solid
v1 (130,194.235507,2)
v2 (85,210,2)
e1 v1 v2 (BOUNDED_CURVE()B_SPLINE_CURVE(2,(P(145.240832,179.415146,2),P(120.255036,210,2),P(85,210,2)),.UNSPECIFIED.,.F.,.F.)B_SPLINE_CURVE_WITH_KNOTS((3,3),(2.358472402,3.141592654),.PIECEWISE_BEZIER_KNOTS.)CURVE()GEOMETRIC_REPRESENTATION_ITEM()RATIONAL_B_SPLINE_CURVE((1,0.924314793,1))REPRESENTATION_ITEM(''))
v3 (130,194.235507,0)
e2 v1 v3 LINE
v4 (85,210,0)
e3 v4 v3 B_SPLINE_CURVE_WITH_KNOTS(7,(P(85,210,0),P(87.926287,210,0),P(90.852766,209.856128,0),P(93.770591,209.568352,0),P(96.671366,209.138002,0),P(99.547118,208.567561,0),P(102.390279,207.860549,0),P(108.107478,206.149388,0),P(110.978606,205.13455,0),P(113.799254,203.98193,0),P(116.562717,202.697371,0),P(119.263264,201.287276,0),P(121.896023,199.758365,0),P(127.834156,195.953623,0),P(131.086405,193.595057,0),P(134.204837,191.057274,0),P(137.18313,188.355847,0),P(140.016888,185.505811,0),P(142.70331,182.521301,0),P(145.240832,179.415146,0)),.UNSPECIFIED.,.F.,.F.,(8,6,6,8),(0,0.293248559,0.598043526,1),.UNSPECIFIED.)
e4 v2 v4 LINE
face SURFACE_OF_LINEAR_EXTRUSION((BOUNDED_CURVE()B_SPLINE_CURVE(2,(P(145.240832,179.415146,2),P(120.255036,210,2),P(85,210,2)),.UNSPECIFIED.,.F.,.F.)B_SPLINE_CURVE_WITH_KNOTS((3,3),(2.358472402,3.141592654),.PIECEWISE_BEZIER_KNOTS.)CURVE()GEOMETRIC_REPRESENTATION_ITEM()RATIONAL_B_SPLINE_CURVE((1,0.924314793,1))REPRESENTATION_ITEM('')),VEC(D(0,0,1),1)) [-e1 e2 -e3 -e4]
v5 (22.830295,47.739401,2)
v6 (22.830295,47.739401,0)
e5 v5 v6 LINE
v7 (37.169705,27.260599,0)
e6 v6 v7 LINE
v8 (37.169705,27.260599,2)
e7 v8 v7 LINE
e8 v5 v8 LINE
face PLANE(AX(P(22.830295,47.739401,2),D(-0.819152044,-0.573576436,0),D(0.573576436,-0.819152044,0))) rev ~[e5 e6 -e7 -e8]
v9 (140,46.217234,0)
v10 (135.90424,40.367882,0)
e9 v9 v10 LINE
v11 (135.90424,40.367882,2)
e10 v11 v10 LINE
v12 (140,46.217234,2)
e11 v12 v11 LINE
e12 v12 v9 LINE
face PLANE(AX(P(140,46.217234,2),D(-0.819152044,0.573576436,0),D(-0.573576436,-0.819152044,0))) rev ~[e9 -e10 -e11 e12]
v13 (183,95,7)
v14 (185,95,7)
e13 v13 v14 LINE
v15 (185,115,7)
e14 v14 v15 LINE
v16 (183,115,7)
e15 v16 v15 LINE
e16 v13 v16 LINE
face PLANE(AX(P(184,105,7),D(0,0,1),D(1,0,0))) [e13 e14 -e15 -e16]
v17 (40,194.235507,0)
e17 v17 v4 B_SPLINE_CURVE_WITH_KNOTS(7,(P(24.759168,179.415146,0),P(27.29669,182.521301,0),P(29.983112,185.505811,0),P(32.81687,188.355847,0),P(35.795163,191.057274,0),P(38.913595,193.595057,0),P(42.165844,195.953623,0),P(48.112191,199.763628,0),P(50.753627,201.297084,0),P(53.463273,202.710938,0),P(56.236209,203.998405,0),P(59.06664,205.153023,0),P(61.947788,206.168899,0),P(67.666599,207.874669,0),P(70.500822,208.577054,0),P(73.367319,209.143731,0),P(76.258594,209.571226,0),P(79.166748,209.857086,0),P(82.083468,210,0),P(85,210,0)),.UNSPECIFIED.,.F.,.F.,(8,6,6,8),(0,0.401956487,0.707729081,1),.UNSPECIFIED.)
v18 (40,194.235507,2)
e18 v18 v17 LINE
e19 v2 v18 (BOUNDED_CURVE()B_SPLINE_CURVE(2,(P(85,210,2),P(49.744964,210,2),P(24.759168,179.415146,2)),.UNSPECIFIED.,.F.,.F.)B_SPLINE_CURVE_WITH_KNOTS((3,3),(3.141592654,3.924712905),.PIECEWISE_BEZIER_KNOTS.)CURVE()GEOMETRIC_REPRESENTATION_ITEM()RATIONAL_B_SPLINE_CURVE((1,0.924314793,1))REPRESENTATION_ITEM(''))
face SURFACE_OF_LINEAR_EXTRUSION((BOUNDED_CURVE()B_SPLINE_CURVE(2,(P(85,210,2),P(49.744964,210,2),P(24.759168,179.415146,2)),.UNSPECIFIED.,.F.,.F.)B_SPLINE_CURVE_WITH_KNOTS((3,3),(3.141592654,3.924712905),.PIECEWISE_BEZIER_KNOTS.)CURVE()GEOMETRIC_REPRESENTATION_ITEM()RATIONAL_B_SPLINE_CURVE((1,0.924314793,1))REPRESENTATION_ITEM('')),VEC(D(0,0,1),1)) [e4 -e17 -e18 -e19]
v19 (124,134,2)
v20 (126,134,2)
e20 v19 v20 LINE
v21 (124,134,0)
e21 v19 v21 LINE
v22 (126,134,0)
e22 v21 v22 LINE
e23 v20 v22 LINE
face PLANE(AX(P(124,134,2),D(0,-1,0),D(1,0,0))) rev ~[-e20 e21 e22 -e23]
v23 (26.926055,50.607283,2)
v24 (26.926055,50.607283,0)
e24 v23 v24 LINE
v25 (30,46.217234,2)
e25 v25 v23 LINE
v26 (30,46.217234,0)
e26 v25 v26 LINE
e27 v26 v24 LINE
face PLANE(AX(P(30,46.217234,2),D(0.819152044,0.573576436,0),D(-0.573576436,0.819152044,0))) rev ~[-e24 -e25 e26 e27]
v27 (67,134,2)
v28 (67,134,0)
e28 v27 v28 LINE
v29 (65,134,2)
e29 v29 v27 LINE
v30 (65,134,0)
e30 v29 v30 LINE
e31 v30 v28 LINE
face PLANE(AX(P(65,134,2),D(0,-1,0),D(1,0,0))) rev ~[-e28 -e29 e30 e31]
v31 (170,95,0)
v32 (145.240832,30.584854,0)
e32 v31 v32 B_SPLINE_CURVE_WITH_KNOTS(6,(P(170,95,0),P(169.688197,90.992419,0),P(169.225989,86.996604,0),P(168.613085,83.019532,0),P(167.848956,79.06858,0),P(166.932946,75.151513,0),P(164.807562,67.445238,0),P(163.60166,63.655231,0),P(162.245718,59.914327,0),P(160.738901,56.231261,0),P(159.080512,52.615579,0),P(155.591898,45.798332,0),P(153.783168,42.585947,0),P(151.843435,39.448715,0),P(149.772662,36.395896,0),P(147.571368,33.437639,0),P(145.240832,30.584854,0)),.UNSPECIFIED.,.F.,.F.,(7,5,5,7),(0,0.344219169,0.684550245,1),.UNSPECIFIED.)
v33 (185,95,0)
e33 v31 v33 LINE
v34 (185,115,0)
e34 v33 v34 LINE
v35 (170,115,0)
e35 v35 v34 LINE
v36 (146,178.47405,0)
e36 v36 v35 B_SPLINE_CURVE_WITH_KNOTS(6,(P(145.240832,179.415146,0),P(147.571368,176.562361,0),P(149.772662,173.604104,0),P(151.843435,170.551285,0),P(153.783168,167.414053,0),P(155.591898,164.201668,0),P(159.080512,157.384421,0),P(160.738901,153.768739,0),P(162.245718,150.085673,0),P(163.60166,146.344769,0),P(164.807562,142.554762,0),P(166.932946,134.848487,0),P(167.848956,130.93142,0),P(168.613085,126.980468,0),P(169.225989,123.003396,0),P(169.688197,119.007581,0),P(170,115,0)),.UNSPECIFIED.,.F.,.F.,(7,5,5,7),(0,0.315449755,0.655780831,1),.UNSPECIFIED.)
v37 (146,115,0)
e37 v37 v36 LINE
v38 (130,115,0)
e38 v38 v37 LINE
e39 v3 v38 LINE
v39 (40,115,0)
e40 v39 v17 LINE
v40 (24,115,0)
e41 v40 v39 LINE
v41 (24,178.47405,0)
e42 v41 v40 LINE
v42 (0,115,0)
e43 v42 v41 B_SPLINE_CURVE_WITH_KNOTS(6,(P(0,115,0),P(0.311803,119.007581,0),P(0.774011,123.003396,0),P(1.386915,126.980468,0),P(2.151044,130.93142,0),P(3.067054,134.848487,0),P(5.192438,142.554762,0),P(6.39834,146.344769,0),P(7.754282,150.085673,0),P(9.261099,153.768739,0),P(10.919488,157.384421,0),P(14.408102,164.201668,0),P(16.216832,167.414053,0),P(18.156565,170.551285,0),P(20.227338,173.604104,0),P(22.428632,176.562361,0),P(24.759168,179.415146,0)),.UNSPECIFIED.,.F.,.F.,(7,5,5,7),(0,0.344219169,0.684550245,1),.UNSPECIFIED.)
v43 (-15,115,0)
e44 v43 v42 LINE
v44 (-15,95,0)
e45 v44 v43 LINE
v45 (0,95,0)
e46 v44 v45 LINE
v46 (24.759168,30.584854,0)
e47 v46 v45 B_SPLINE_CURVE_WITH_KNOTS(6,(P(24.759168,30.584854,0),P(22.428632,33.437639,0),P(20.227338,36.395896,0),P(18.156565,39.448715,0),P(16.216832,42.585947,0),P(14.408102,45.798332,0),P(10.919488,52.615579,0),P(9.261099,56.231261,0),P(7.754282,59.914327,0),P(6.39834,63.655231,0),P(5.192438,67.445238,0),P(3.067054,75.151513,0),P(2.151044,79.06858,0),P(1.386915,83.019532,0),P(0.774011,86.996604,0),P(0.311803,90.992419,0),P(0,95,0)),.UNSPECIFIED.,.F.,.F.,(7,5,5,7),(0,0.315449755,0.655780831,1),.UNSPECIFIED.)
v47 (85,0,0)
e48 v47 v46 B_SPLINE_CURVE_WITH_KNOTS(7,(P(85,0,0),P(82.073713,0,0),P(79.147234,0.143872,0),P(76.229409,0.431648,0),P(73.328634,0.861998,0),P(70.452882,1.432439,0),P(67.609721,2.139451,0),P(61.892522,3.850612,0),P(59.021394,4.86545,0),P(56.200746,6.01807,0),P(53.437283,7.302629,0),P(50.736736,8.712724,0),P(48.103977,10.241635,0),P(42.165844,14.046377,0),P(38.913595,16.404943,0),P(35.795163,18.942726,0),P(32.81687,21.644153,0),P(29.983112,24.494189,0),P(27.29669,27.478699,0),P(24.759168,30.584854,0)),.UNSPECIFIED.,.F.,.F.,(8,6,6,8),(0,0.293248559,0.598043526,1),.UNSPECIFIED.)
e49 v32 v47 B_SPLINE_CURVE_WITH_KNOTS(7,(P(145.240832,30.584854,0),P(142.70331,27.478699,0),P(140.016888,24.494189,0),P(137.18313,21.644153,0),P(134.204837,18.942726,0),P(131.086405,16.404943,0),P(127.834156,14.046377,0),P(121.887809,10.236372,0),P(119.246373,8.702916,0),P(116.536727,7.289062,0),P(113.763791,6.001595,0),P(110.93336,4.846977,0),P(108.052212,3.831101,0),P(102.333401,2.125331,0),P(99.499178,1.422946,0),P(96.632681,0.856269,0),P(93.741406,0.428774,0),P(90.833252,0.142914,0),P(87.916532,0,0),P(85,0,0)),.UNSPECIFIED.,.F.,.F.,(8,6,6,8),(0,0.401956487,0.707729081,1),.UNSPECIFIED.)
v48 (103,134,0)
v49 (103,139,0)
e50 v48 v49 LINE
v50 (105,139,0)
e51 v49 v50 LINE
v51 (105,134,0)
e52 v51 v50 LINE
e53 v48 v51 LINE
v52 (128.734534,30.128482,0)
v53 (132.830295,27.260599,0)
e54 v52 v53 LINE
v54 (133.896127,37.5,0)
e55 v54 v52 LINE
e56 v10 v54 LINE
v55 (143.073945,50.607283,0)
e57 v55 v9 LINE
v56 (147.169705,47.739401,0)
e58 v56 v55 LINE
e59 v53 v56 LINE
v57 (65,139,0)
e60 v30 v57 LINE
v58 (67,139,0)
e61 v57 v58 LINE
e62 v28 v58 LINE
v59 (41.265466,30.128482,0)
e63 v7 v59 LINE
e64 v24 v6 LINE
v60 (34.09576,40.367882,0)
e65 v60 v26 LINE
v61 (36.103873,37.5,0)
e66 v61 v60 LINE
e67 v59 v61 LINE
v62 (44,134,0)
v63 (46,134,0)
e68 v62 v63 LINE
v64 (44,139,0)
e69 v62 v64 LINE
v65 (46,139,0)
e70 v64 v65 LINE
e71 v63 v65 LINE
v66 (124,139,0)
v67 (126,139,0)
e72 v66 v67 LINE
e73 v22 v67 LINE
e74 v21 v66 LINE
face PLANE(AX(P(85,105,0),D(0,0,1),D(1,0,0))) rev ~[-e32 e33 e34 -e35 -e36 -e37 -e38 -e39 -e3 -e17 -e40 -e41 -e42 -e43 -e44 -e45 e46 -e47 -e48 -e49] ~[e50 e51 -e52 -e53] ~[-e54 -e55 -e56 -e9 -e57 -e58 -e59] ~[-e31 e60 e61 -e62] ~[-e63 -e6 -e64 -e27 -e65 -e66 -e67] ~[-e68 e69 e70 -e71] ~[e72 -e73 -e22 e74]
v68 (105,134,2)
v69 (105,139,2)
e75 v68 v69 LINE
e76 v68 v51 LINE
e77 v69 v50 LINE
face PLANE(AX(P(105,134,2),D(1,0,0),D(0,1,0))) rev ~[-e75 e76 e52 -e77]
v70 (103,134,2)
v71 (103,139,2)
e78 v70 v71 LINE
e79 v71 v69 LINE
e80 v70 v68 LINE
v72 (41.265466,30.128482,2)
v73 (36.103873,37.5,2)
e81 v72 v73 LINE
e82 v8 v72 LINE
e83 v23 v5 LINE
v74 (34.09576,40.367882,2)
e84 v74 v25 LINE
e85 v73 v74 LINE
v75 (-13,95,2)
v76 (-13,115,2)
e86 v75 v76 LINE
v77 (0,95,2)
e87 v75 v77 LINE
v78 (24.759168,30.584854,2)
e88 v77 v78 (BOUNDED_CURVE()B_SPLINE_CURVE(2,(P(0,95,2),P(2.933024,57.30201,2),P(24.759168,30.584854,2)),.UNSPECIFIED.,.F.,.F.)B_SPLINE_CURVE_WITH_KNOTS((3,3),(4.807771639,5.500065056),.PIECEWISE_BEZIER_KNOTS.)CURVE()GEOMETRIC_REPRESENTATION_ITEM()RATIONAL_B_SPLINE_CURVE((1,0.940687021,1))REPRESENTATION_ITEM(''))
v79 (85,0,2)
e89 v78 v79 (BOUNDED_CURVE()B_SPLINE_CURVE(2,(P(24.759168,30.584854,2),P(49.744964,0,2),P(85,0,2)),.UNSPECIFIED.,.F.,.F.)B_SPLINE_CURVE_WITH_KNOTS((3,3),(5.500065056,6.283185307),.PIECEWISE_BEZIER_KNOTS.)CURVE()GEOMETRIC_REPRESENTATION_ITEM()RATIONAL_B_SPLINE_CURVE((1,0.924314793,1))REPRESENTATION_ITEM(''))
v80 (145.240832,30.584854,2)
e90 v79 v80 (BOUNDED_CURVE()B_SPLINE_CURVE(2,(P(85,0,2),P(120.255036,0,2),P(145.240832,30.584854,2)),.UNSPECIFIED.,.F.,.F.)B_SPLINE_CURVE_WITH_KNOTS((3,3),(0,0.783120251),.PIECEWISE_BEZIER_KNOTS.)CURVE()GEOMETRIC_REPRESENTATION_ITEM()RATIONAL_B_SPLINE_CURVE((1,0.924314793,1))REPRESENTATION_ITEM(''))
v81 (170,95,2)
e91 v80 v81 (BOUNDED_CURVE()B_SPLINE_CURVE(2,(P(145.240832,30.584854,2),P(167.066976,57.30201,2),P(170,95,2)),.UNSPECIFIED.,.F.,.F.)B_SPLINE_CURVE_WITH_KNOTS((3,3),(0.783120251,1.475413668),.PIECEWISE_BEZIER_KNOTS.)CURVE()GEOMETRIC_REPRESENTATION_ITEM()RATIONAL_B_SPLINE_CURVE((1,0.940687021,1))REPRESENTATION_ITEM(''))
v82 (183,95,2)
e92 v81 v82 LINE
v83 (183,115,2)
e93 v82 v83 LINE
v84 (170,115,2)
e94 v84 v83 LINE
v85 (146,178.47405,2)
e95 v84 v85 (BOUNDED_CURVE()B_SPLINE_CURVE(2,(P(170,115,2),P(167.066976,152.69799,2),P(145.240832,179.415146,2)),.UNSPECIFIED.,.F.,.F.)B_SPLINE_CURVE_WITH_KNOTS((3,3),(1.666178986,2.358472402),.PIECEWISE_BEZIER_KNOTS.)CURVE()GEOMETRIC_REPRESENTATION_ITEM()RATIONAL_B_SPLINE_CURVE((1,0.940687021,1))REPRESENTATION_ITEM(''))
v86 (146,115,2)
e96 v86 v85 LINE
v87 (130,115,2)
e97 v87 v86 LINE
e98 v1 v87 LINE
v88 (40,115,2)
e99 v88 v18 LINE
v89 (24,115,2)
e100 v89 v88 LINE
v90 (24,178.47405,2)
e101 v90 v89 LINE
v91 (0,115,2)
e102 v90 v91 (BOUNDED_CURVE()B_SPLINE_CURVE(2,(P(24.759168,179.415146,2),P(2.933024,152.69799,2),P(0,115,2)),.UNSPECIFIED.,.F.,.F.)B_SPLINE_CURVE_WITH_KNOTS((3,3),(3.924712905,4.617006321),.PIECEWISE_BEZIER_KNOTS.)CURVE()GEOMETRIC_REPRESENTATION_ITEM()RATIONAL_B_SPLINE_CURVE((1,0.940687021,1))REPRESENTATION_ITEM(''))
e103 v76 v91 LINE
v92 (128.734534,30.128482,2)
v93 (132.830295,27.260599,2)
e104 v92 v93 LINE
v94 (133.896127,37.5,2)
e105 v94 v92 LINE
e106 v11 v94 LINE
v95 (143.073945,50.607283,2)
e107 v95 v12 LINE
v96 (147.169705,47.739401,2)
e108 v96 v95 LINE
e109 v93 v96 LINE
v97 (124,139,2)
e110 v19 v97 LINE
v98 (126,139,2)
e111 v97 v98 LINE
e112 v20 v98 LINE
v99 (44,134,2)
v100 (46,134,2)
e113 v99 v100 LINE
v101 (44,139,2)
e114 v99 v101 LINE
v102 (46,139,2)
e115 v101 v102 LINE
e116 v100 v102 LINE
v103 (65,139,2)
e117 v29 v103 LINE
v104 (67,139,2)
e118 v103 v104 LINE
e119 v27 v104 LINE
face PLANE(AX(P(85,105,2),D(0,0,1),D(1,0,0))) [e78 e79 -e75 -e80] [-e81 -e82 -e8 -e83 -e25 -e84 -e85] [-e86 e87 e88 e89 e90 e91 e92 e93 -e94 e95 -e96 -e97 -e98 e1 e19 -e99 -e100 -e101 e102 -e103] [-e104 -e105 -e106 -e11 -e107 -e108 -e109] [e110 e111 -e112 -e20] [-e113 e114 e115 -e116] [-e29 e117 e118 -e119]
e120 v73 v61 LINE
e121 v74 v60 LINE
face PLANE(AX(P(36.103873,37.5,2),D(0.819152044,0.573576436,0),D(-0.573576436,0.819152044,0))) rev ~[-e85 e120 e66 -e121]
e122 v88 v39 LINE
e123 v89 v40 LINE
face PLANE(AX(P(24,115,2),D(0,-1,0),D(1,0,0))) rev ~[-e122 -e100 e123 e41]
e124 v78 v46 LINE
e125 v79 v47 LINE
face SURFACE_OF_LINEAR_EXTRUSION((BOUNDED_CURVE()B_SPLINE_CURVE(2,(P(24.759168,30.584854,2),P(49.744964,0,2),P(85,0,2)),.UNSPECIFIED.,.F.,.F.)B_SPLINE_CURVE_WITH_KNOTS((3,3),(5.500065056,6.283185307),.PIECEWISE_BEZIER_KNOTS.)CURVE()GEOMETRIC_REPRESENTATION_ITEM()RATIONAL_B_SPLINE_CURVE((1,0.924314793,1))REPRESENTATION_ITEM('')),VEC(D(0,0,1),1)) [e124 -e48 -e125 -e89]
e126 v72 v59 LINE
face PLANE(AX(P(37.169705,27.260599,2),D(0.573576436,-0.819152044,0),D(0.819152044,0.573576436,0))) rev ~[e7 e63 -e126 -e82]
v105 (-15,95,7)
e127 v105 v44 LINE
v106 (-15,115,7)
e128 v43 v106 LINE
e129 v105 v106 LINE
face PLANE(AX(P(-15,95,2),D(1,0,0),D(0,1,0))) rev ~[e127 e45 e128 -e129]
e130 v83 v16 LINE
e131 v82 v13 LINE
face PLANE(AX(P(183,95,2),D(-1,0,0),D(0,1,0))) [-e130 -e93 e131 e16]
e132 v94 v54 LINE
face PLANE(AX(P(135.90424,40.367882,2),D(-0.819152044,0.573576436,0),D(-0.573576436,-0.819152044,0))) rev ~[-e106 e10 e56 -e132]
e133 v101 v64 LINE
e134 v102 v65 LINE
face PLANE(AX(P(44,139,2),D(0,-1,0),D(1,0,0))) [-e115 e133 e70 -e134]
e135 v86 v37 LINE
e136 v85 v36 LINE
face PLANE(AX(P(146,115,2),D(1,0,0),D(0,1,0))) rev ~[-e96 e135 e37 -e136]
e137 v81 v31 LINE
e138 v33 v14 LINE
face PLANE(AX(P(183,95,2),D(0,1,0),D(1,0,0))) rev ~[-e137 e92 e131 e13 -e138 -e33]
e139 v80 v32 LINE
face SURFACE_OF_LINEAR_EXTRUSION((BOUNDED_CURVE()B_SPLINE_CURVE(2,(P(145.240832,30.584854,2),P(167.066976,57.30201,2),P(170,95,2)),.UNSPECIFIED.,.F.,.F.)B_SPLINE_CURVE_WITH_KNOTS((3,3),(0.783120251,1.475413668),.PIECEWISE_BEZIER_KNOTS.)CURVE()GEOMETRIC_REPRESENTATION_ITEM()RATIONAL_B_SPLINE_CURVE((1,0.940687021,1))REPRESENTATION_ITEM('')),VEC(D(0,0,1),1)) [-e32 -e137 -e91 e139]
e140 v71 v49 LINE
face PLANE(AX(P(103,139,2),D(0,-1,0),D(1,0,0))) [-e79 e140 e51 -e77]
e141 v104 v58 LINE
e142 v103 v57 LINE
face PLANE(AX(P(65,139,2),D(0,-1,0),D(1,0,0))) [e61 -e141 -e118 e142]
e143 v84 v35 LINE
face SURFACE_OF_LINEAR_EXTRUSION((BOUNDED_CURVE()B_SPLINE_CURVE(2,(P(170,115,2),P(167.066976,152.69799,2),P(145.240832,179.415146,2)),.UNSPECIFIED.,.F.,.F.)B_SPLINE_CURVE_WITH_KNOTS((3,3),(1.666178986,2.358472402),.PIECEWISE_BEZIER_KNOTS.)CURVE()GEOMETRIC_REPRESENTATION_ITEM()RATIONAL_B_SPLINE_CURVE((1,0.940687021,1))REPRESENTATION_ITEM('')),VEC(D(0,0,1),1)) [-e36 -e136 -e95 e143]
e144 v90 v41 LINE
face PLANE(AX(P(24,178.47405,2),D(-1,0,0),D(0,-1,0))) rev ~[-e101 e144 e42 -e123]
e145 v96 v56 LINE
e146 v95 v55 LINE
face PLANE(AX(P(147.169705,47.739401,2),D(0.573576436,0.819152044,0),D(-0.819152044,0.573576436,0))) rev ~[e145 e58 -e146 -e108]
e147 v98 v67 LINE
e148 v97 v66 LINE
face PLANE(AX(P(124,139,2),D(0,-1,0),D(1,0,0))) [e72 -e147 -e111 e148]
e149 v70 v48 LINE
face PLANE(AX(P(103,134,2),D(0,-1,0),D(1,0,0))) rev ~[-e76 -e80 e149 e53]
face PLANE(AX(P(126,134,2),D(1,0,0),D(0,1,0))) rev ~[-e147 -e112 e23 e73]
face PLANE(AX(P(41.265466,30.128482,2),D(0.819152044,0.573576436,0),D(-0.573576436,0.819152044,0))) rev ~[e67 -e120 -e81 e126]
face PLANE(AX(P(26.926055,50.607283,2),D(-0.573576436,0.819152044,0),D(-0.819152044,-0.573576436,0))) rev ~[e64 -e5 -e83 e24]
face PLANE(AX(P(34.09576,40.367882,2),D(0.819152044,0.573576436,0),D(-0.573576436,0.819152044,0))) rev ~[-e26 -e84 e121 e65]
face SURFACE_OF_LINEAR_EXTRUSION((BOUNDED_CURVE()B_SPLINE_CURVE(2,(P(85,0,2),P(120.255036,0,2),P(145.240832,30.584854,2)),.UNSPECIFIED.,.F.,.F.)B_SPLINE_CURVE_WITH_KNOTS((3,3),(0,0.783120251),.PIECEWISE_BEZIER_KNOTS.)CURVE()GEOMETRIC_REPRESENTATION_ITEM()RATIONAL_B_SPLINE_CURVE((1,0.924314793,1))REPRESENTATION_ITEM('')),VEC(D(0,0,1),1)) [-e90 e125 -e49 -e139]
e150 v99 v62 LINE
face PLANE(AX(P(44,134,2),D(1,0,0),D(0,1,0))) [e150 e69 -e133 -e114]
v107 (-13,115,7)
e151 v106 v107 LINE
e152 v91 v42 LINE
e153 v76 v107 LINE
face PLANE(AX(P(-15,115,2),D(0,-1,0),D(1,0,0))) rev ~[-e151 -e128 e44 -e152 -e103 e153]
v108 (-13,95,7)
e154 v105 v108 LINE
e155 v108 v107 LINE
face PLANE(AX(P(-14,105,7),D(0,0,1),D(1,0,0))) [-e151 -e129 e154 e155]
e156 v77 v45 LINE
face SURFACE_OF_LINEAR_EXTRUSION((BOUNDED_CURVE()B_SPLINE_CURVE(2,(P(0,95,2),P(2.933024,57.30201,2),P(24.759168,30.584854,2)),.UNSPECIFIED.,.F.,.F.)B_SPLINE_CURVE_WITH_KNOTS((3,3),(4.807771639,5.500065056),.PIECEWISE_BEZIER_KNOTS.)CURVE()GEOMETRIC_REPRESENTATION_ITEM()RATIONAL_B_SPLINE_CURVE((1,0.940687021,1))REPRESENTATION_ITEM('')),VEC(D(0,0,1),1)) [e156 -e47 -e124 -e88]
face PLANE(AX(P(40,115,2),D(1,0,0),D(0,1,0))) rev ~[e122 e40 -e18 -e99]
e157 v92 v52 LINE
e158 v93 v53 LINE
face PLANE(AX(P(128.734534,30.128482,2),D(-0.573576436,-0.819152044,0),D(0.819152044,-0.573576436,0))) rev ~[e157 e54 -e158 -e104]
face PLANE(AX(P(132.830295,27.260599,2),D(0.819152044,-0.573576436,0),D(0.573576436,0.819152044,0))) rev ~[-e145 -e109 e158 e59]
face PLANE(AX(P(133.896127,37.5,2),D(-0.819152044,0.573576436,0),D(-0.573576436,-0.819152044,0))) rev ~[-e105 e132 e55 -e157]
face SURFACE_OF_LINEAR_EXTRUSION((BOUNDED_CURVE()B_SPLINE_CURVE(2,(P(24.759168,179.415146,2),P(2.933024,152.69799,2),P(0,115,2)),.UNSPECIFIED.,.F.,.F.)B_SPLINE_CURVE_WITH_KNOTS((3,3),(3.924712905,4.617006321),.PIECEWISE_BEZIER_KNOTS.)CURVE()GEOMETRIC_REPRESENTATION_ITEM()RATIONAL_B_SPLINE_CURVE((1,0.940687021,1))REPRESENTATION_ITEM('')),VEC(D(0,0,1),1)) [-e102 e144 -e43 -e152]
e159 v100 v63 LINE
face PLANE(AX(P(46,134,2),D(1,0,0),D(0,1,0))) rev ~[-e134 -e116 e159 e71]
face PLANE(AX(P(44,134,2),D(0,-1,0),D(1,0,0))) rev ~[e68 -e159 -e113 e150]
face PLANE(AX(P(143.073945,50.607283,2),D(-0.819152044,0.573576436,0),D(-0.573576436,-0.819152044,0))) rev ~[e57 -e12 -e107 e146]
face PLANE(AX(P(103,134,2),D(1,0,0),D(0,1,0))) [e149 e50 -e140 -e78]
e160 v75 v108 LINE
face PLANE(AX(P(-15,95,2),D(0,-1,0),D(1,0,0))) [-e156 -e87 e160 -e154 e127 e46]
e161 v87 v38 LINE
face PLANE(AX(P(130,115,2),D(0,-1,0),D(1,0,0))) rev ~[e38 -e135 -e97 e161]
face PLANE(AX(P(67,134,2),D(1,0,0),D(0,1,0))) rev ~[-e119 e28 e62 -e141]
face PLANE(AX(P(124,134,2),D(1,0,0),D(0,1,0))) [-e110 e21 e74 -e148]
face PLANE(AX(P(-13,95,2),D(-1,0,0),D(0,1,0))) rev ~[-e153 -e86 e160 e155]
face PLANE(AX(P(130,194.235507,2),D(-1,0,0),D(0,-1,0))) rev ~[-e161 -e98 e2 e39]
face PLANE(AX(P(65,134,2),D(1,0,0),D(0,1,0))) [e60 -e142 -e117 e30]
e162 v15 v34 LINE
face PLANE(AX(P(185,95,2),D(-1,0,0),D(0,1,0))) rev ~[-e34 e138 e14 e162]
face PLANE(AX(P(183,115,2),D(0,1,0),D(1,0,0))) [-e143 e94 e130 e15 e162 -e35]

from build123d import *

# Parameters (mm, degrees)
F0_W      = 170
F0_H      = 210
F1_DEPTH  = 2
F2_W      = 15
F2_H      = 20
F3_DEPTH  = 2
F4_W      = 2
F4_H      = 20
F5_DEPTH  = 5
F7_DEPTH  = 2.001
F9_DEPTH  = 2.0010001
F11_DEPTH = 2.0010001
F12_W     = 2
F12_H     = 5
F13_DEPTH = 2.0010001


with BuildPart() as f1:
    # F0 (on Top) → F1 (new body)
    with BuildSketch(Plane.XY):
        with Locations((85, 105)):
            Rectangle(F0_W, F0_H)
    extrude(amount=F1_DEPTH)

    # F2 (on face) → F3 (join)
    with BuildSketch(Plane.XY.offset(2)):
        with Locations((-7.5, 105)):
            Rectangle(F2_W, F2_H)
        with Locations((177.5, 105)):
            Rectangle(F2_W, F2_H)
    extrude(amount=-F3_DEPTH)

    # F4 (on face) → F5 (join)
    with BuildSketch(Plane.XY.offset(2)):
        with Locations((184, 105)):
            Rectangle(F4_W, F4_H)
        with Locations((-14, 105)):
            Rectangle(F4_W, F4_H)
    extrude(amount=F5_DEPTH)

    # F6 (on face) → F7 (cut, through all)
    with BuildSketch(Plane.XY.offset(2)):
        with BuildLine():
            add(Edge.make_bspline(
                [(24.7591678446, 179.4151456037), (2.9330243604, 152.697989574), (0, 115)],
                knots=[3.9247129048, 3.9247129048, 3.9247129048, 4.6170063214, 4.6170063214, 4.6170063214], degree=2, weights=[1, 0.940687021, 1]))
            Line((24.7591678446, 179.4151456037), (0, 210))
            Line((0, 210), (0, 115))
        make_face()
        with BuildLine():
            add(Edge.make_bspline(
                [(85, 210), (49.7449642279, 210), (24.7591678446, 179.4151456037)],
                knots=[3.1415926536, 3.1415926536, 3.1415926536, 3.9247129048, 3.9247129048, 3.9247129048], degree=2, weights=[1, 0.9243147928, 1]))
            Line((85, 210), (0, 210))
            Line((0, 210), (24.7591678446, 179.4151456037))
        make_face()
        with BuildLine():
            add(Edge.make_bspline(
                [(145.2408321554, 179.4151456037), (120.2550357721, 210), (85, 210)],
                knots=[2.3584724024, 2.3584724024, 2.3584724024, 3.1415926536, 3.1415926536, 3.1415926536], degree=2, weights=[1, 0.9243147928, 1]))
            Line((145.2408321554, 179.4151456037), (170, 210))
            Line((170, 210), (85, 210))
        make_face()
        with BuildLine():
            add(Edge.make_bspline(
                [(170, 115), (167.0669756396, 152.697989574), (145.2408321554, 179.4151456037)],
                knots=[1.6661789858, 1.6661789858, 1.6661789858, 2.3584724024, 2.3584724024, 2.3584724024], degree=2, weights=[1, 0.940687021, 1]))
            Line((170, 115), (170, 210))
            Line((170, 210), (145.2408321554, 179.4151456037))
        make_face()
        with BuildLine():
            Line((0, 0), (24.7591678446, 30.5848543963))
            add(Edge.make_bspline(
                [(0, 95), (2.9330243604, 57.302010426), (24.7591678446, 30.5848543963)],
                knots=[4.8077716394, 4.8077716394, 4.8077716394, 5.500065056, 5.500065056, 5.500065056], degree=2, weights=[1, 0.940687021, 1]))
            Line((0, 95), (0, 0))
        make_face()
        with BuildLine():
            Line((0, 0), (85, 0))
            add(Edge.make_bspline(
                [(24.7591678446, 30.5848543963), (49.7449642279, 0), (85, 0)],
                knots=[5.500065056, 5.500065056, 5.500065056, 6.2831853072, 6.2831853072, 6.2831853072], degree=2, weights=[1, 0.9243147928, 1]))
            Line((24.7591678446, 30.5848543963), (0, 0))
        make_face()
        with BuildLine():
            Line((170, 0), (145.2408321554, 30.5848543963))
            add(Edge.make_bspline(
                [(85, 0), (120.2550357721, 0), (145.2408321554, 30.5848543963)],
                knots=[0, 0, 0, 0.7831202512, 0.7831202512, 0.7831202512], degree=2, weights=[1, 0.9243147928, 1]))
            Line((85, 0), (170, 0))
        make_face()
        with BuildLine():
            Line((170, 0), (170, 95))
            add(Edge.make_bspline(
                [(145.2408321554, 30.5848543963), (167.0669756396, 57.302010426), (170, 95)],
                knots=[0.7831202512, 0.7831202512, 0.7831202512, 1.4754136678, 1.4754136678, 1.4754136678], degree=2, weights=[1, 0.940687021, 1]))
            Line((145.2408321554, 30.5848543963), (170, 0))
        make_face()
    extrude(amount=-F7_DEPTH, mode=Mode.SUBTRACT)

    # F8 (on face) → F9 (cut, through all)
    with BuildSketch(Plane.XY.offset(2)):
        Polygon((140, 37.5), (133.8961270562, 37.5), (128.7345343242, 30.1284816281), (132.8302945456, 27.2605994464), align=None)
        Polygon((135.9042397786, 40.3678821818), (133.8961270562, 37.5), (140, 37.5), align=None)
        Polygon((140, 37.5), (140, 46.2172339781), (135.9042397786, 40.3678821818), align=None)
        Polygon((143.0739452329, 50.6072827354), (140, 46.2172339781), (140, 37.5), (147.1697054544, 47.7394005536), align=None)
        Polygon((36.1038729438, 37.5), (30, 37.5), (37.1697054544, 27.2605994464), (41.2654656758, 30.1284816281), align=None)
        Polygon((34.0957602214, 40.3678821818), (30, 37.5), (36.1038729438, 37.5), align=None)
        Polygon((34.0957602214, 40.3678821818), (30, 46.2172339781), (30, 37.5), align=None)
        Polygon((30, 37.5), (30, 46.2172339781), (26.9260547671, 50.6072827354), (22.8302945456, 47.7394005536), align=None)
    extrude(amount=-F9_DEPTH, mode=Mode.SUBTRACT)

    # F10 (on face) → F11 (cut, through all)
    with BuildSketch(Plane.XY.offset(2)):
        with BuildLine():
            Line((135.1302650927, 190), (130, 190))
            Line((130, 190), (130, 115))
            Line((130, 115), (146, 115))
            Line((146, 115), (146, 178.4740497466))
            add(Edge.make_bspline(
                [(135.1302650927, 190), (137.306371465, 188.0593608414), (139.4104340586, 186.0222842528), (141.4370654471, 183.8965010357), (143.381737679, 181.6908438843), (145.3934634846, 179.2283111754), (145.5457000719, 179.0407818641), (145.6975377618, 178.8525601554), (145.8489724333, 178.6636485868), (146, 178.4740497466)],
                knots=[2.9839924319, 2.9839924319, 2.9839924319, 2.9839924319, 2.9839924319, 2.9839924319, 3.1415926536, 3.1415926536, 3.1415926536, 3.1415926536, 3.154531604, 3.154531604, 3.154531604, 3.154531604, 3.154531604, 3.154531604], degree=5, weights=[0.999407942, 0.9995850974, 0.9997589565, 0.999907202, 1, 1, 0.9999995139, 0.9999985599, 0.9999971556, 0.9999953185]))
        make_face()
        with BuildLine():
            Line((40, 190), (34.8697349073, 190))
            add(Edge.make_bspline(
                [(24, 178.4740497466), (24.1510275667, 178.6636485868), (24.3024622382, 178.8525601554), (24.4542999281, 179.0407818641), (24.6065365154, 179.2283111754), (26.618262321, 181.6908438843), (28.5629345529, 183.8965010357), (30.5895659414, 186.0222842528), (32.693628535, 188.0593608414), (34.8697349073, 190)],
                knots=[4.6041400787, 4.6041400787, 4.6041400787, 4.6041400787, 4.6041400787, 4.6041400787, 4.6170063214, 4.6170063214, 4.6170063214, 4.6170063214, 4.773720941, 4.773720941, 4.773720941, 4.773720941, 4.773720941, 4.773720941], degree=5, weights=[0.9999953185, 0.9999971556, 0.9999985599, 0.9999995139, 1, 1, 0.999907202, 0.9997589565, 0.9995850974, 0.999407942]))
            Line((24, 178.4740497466), (24, 115))
            Line((24, 115), (40, 115))
            Line((40, 115), (40, 190))
        make_face()
        with BuildLine():
            add(Edge.make_bspline(
                [(34.8697349073, 190), (35.8666495511, 190.8890427509), (36.8786886023, 191.7578499358), (37.9053142385, 192.6056593139), (38.9459535543, 193.4317626189), (40, 194.2355073866)],
                knots=[4.773720941, 4.773720941, 4.773720941, 4.773720941, 4.773720941, 4.773720941, 4.8454962601, 4.8454962601, 4.8454962601, 4.8454962601, 4.8454962601, 4.8454962601], degree=5, weights=[0.999407942, 0.9993268048, 0.9992449761, 0.9991646, 0.9990874899, 0.9990151282]))
            Line((34.8697349073, 190), (40, 190))
            Line((40, 190), (40, 194.2355073866))
        make_face()
        with BuildLine():
            add(Edge.make_bspline(
                [(130, 194.2355073866), (131.0540464457, 193.4317626189), (132.0946857615, 192.6056593139), (133.1213113977, 191.7578499358), (134.1333504489, 190.8890427509), (135.1302650927, 190)],
                knots=[2.911811507, 2.911811507, 2.911811507, 2.911811507, 2.911811507, 2.911811507, 2.9839924319, 2.9839924319, 2.9839924319, 2.9839924319, 2.9839924319, 2.9839924319], degree=5, weights=[0.9990151282, 0.9990874899, 0.9991646, 0.9992449761, 0.9993268048, 0.999407942]))
            Line((130, 194.2355073866), (130, 190))
            Line((130, 190), (135.1302650927, 190))
        make_face()
    extrude(amount=-F11_DEPTH, mode=Mode.SUBTRACT)

    # F12 (on face) → F13 (cut, through all)
    with BuildSketch(Plane.XY.offset(2)):
        with Locations((45, 136.5)):
            Rectangle(F12_W, F12_H)
        with Locations((66, 136.5)):
            Rectangle(F12_W, F12_H)
        with Locations((104, 136.5)):
            Rectangle(F12_W, F12_H)
        with Locations((125, 136.5)):
            Rectangle(F12_W, F12_H)
    extrude(amount=-F13_DEPTH, mode=Mode.SUBTRACT)


solid = f1.part
